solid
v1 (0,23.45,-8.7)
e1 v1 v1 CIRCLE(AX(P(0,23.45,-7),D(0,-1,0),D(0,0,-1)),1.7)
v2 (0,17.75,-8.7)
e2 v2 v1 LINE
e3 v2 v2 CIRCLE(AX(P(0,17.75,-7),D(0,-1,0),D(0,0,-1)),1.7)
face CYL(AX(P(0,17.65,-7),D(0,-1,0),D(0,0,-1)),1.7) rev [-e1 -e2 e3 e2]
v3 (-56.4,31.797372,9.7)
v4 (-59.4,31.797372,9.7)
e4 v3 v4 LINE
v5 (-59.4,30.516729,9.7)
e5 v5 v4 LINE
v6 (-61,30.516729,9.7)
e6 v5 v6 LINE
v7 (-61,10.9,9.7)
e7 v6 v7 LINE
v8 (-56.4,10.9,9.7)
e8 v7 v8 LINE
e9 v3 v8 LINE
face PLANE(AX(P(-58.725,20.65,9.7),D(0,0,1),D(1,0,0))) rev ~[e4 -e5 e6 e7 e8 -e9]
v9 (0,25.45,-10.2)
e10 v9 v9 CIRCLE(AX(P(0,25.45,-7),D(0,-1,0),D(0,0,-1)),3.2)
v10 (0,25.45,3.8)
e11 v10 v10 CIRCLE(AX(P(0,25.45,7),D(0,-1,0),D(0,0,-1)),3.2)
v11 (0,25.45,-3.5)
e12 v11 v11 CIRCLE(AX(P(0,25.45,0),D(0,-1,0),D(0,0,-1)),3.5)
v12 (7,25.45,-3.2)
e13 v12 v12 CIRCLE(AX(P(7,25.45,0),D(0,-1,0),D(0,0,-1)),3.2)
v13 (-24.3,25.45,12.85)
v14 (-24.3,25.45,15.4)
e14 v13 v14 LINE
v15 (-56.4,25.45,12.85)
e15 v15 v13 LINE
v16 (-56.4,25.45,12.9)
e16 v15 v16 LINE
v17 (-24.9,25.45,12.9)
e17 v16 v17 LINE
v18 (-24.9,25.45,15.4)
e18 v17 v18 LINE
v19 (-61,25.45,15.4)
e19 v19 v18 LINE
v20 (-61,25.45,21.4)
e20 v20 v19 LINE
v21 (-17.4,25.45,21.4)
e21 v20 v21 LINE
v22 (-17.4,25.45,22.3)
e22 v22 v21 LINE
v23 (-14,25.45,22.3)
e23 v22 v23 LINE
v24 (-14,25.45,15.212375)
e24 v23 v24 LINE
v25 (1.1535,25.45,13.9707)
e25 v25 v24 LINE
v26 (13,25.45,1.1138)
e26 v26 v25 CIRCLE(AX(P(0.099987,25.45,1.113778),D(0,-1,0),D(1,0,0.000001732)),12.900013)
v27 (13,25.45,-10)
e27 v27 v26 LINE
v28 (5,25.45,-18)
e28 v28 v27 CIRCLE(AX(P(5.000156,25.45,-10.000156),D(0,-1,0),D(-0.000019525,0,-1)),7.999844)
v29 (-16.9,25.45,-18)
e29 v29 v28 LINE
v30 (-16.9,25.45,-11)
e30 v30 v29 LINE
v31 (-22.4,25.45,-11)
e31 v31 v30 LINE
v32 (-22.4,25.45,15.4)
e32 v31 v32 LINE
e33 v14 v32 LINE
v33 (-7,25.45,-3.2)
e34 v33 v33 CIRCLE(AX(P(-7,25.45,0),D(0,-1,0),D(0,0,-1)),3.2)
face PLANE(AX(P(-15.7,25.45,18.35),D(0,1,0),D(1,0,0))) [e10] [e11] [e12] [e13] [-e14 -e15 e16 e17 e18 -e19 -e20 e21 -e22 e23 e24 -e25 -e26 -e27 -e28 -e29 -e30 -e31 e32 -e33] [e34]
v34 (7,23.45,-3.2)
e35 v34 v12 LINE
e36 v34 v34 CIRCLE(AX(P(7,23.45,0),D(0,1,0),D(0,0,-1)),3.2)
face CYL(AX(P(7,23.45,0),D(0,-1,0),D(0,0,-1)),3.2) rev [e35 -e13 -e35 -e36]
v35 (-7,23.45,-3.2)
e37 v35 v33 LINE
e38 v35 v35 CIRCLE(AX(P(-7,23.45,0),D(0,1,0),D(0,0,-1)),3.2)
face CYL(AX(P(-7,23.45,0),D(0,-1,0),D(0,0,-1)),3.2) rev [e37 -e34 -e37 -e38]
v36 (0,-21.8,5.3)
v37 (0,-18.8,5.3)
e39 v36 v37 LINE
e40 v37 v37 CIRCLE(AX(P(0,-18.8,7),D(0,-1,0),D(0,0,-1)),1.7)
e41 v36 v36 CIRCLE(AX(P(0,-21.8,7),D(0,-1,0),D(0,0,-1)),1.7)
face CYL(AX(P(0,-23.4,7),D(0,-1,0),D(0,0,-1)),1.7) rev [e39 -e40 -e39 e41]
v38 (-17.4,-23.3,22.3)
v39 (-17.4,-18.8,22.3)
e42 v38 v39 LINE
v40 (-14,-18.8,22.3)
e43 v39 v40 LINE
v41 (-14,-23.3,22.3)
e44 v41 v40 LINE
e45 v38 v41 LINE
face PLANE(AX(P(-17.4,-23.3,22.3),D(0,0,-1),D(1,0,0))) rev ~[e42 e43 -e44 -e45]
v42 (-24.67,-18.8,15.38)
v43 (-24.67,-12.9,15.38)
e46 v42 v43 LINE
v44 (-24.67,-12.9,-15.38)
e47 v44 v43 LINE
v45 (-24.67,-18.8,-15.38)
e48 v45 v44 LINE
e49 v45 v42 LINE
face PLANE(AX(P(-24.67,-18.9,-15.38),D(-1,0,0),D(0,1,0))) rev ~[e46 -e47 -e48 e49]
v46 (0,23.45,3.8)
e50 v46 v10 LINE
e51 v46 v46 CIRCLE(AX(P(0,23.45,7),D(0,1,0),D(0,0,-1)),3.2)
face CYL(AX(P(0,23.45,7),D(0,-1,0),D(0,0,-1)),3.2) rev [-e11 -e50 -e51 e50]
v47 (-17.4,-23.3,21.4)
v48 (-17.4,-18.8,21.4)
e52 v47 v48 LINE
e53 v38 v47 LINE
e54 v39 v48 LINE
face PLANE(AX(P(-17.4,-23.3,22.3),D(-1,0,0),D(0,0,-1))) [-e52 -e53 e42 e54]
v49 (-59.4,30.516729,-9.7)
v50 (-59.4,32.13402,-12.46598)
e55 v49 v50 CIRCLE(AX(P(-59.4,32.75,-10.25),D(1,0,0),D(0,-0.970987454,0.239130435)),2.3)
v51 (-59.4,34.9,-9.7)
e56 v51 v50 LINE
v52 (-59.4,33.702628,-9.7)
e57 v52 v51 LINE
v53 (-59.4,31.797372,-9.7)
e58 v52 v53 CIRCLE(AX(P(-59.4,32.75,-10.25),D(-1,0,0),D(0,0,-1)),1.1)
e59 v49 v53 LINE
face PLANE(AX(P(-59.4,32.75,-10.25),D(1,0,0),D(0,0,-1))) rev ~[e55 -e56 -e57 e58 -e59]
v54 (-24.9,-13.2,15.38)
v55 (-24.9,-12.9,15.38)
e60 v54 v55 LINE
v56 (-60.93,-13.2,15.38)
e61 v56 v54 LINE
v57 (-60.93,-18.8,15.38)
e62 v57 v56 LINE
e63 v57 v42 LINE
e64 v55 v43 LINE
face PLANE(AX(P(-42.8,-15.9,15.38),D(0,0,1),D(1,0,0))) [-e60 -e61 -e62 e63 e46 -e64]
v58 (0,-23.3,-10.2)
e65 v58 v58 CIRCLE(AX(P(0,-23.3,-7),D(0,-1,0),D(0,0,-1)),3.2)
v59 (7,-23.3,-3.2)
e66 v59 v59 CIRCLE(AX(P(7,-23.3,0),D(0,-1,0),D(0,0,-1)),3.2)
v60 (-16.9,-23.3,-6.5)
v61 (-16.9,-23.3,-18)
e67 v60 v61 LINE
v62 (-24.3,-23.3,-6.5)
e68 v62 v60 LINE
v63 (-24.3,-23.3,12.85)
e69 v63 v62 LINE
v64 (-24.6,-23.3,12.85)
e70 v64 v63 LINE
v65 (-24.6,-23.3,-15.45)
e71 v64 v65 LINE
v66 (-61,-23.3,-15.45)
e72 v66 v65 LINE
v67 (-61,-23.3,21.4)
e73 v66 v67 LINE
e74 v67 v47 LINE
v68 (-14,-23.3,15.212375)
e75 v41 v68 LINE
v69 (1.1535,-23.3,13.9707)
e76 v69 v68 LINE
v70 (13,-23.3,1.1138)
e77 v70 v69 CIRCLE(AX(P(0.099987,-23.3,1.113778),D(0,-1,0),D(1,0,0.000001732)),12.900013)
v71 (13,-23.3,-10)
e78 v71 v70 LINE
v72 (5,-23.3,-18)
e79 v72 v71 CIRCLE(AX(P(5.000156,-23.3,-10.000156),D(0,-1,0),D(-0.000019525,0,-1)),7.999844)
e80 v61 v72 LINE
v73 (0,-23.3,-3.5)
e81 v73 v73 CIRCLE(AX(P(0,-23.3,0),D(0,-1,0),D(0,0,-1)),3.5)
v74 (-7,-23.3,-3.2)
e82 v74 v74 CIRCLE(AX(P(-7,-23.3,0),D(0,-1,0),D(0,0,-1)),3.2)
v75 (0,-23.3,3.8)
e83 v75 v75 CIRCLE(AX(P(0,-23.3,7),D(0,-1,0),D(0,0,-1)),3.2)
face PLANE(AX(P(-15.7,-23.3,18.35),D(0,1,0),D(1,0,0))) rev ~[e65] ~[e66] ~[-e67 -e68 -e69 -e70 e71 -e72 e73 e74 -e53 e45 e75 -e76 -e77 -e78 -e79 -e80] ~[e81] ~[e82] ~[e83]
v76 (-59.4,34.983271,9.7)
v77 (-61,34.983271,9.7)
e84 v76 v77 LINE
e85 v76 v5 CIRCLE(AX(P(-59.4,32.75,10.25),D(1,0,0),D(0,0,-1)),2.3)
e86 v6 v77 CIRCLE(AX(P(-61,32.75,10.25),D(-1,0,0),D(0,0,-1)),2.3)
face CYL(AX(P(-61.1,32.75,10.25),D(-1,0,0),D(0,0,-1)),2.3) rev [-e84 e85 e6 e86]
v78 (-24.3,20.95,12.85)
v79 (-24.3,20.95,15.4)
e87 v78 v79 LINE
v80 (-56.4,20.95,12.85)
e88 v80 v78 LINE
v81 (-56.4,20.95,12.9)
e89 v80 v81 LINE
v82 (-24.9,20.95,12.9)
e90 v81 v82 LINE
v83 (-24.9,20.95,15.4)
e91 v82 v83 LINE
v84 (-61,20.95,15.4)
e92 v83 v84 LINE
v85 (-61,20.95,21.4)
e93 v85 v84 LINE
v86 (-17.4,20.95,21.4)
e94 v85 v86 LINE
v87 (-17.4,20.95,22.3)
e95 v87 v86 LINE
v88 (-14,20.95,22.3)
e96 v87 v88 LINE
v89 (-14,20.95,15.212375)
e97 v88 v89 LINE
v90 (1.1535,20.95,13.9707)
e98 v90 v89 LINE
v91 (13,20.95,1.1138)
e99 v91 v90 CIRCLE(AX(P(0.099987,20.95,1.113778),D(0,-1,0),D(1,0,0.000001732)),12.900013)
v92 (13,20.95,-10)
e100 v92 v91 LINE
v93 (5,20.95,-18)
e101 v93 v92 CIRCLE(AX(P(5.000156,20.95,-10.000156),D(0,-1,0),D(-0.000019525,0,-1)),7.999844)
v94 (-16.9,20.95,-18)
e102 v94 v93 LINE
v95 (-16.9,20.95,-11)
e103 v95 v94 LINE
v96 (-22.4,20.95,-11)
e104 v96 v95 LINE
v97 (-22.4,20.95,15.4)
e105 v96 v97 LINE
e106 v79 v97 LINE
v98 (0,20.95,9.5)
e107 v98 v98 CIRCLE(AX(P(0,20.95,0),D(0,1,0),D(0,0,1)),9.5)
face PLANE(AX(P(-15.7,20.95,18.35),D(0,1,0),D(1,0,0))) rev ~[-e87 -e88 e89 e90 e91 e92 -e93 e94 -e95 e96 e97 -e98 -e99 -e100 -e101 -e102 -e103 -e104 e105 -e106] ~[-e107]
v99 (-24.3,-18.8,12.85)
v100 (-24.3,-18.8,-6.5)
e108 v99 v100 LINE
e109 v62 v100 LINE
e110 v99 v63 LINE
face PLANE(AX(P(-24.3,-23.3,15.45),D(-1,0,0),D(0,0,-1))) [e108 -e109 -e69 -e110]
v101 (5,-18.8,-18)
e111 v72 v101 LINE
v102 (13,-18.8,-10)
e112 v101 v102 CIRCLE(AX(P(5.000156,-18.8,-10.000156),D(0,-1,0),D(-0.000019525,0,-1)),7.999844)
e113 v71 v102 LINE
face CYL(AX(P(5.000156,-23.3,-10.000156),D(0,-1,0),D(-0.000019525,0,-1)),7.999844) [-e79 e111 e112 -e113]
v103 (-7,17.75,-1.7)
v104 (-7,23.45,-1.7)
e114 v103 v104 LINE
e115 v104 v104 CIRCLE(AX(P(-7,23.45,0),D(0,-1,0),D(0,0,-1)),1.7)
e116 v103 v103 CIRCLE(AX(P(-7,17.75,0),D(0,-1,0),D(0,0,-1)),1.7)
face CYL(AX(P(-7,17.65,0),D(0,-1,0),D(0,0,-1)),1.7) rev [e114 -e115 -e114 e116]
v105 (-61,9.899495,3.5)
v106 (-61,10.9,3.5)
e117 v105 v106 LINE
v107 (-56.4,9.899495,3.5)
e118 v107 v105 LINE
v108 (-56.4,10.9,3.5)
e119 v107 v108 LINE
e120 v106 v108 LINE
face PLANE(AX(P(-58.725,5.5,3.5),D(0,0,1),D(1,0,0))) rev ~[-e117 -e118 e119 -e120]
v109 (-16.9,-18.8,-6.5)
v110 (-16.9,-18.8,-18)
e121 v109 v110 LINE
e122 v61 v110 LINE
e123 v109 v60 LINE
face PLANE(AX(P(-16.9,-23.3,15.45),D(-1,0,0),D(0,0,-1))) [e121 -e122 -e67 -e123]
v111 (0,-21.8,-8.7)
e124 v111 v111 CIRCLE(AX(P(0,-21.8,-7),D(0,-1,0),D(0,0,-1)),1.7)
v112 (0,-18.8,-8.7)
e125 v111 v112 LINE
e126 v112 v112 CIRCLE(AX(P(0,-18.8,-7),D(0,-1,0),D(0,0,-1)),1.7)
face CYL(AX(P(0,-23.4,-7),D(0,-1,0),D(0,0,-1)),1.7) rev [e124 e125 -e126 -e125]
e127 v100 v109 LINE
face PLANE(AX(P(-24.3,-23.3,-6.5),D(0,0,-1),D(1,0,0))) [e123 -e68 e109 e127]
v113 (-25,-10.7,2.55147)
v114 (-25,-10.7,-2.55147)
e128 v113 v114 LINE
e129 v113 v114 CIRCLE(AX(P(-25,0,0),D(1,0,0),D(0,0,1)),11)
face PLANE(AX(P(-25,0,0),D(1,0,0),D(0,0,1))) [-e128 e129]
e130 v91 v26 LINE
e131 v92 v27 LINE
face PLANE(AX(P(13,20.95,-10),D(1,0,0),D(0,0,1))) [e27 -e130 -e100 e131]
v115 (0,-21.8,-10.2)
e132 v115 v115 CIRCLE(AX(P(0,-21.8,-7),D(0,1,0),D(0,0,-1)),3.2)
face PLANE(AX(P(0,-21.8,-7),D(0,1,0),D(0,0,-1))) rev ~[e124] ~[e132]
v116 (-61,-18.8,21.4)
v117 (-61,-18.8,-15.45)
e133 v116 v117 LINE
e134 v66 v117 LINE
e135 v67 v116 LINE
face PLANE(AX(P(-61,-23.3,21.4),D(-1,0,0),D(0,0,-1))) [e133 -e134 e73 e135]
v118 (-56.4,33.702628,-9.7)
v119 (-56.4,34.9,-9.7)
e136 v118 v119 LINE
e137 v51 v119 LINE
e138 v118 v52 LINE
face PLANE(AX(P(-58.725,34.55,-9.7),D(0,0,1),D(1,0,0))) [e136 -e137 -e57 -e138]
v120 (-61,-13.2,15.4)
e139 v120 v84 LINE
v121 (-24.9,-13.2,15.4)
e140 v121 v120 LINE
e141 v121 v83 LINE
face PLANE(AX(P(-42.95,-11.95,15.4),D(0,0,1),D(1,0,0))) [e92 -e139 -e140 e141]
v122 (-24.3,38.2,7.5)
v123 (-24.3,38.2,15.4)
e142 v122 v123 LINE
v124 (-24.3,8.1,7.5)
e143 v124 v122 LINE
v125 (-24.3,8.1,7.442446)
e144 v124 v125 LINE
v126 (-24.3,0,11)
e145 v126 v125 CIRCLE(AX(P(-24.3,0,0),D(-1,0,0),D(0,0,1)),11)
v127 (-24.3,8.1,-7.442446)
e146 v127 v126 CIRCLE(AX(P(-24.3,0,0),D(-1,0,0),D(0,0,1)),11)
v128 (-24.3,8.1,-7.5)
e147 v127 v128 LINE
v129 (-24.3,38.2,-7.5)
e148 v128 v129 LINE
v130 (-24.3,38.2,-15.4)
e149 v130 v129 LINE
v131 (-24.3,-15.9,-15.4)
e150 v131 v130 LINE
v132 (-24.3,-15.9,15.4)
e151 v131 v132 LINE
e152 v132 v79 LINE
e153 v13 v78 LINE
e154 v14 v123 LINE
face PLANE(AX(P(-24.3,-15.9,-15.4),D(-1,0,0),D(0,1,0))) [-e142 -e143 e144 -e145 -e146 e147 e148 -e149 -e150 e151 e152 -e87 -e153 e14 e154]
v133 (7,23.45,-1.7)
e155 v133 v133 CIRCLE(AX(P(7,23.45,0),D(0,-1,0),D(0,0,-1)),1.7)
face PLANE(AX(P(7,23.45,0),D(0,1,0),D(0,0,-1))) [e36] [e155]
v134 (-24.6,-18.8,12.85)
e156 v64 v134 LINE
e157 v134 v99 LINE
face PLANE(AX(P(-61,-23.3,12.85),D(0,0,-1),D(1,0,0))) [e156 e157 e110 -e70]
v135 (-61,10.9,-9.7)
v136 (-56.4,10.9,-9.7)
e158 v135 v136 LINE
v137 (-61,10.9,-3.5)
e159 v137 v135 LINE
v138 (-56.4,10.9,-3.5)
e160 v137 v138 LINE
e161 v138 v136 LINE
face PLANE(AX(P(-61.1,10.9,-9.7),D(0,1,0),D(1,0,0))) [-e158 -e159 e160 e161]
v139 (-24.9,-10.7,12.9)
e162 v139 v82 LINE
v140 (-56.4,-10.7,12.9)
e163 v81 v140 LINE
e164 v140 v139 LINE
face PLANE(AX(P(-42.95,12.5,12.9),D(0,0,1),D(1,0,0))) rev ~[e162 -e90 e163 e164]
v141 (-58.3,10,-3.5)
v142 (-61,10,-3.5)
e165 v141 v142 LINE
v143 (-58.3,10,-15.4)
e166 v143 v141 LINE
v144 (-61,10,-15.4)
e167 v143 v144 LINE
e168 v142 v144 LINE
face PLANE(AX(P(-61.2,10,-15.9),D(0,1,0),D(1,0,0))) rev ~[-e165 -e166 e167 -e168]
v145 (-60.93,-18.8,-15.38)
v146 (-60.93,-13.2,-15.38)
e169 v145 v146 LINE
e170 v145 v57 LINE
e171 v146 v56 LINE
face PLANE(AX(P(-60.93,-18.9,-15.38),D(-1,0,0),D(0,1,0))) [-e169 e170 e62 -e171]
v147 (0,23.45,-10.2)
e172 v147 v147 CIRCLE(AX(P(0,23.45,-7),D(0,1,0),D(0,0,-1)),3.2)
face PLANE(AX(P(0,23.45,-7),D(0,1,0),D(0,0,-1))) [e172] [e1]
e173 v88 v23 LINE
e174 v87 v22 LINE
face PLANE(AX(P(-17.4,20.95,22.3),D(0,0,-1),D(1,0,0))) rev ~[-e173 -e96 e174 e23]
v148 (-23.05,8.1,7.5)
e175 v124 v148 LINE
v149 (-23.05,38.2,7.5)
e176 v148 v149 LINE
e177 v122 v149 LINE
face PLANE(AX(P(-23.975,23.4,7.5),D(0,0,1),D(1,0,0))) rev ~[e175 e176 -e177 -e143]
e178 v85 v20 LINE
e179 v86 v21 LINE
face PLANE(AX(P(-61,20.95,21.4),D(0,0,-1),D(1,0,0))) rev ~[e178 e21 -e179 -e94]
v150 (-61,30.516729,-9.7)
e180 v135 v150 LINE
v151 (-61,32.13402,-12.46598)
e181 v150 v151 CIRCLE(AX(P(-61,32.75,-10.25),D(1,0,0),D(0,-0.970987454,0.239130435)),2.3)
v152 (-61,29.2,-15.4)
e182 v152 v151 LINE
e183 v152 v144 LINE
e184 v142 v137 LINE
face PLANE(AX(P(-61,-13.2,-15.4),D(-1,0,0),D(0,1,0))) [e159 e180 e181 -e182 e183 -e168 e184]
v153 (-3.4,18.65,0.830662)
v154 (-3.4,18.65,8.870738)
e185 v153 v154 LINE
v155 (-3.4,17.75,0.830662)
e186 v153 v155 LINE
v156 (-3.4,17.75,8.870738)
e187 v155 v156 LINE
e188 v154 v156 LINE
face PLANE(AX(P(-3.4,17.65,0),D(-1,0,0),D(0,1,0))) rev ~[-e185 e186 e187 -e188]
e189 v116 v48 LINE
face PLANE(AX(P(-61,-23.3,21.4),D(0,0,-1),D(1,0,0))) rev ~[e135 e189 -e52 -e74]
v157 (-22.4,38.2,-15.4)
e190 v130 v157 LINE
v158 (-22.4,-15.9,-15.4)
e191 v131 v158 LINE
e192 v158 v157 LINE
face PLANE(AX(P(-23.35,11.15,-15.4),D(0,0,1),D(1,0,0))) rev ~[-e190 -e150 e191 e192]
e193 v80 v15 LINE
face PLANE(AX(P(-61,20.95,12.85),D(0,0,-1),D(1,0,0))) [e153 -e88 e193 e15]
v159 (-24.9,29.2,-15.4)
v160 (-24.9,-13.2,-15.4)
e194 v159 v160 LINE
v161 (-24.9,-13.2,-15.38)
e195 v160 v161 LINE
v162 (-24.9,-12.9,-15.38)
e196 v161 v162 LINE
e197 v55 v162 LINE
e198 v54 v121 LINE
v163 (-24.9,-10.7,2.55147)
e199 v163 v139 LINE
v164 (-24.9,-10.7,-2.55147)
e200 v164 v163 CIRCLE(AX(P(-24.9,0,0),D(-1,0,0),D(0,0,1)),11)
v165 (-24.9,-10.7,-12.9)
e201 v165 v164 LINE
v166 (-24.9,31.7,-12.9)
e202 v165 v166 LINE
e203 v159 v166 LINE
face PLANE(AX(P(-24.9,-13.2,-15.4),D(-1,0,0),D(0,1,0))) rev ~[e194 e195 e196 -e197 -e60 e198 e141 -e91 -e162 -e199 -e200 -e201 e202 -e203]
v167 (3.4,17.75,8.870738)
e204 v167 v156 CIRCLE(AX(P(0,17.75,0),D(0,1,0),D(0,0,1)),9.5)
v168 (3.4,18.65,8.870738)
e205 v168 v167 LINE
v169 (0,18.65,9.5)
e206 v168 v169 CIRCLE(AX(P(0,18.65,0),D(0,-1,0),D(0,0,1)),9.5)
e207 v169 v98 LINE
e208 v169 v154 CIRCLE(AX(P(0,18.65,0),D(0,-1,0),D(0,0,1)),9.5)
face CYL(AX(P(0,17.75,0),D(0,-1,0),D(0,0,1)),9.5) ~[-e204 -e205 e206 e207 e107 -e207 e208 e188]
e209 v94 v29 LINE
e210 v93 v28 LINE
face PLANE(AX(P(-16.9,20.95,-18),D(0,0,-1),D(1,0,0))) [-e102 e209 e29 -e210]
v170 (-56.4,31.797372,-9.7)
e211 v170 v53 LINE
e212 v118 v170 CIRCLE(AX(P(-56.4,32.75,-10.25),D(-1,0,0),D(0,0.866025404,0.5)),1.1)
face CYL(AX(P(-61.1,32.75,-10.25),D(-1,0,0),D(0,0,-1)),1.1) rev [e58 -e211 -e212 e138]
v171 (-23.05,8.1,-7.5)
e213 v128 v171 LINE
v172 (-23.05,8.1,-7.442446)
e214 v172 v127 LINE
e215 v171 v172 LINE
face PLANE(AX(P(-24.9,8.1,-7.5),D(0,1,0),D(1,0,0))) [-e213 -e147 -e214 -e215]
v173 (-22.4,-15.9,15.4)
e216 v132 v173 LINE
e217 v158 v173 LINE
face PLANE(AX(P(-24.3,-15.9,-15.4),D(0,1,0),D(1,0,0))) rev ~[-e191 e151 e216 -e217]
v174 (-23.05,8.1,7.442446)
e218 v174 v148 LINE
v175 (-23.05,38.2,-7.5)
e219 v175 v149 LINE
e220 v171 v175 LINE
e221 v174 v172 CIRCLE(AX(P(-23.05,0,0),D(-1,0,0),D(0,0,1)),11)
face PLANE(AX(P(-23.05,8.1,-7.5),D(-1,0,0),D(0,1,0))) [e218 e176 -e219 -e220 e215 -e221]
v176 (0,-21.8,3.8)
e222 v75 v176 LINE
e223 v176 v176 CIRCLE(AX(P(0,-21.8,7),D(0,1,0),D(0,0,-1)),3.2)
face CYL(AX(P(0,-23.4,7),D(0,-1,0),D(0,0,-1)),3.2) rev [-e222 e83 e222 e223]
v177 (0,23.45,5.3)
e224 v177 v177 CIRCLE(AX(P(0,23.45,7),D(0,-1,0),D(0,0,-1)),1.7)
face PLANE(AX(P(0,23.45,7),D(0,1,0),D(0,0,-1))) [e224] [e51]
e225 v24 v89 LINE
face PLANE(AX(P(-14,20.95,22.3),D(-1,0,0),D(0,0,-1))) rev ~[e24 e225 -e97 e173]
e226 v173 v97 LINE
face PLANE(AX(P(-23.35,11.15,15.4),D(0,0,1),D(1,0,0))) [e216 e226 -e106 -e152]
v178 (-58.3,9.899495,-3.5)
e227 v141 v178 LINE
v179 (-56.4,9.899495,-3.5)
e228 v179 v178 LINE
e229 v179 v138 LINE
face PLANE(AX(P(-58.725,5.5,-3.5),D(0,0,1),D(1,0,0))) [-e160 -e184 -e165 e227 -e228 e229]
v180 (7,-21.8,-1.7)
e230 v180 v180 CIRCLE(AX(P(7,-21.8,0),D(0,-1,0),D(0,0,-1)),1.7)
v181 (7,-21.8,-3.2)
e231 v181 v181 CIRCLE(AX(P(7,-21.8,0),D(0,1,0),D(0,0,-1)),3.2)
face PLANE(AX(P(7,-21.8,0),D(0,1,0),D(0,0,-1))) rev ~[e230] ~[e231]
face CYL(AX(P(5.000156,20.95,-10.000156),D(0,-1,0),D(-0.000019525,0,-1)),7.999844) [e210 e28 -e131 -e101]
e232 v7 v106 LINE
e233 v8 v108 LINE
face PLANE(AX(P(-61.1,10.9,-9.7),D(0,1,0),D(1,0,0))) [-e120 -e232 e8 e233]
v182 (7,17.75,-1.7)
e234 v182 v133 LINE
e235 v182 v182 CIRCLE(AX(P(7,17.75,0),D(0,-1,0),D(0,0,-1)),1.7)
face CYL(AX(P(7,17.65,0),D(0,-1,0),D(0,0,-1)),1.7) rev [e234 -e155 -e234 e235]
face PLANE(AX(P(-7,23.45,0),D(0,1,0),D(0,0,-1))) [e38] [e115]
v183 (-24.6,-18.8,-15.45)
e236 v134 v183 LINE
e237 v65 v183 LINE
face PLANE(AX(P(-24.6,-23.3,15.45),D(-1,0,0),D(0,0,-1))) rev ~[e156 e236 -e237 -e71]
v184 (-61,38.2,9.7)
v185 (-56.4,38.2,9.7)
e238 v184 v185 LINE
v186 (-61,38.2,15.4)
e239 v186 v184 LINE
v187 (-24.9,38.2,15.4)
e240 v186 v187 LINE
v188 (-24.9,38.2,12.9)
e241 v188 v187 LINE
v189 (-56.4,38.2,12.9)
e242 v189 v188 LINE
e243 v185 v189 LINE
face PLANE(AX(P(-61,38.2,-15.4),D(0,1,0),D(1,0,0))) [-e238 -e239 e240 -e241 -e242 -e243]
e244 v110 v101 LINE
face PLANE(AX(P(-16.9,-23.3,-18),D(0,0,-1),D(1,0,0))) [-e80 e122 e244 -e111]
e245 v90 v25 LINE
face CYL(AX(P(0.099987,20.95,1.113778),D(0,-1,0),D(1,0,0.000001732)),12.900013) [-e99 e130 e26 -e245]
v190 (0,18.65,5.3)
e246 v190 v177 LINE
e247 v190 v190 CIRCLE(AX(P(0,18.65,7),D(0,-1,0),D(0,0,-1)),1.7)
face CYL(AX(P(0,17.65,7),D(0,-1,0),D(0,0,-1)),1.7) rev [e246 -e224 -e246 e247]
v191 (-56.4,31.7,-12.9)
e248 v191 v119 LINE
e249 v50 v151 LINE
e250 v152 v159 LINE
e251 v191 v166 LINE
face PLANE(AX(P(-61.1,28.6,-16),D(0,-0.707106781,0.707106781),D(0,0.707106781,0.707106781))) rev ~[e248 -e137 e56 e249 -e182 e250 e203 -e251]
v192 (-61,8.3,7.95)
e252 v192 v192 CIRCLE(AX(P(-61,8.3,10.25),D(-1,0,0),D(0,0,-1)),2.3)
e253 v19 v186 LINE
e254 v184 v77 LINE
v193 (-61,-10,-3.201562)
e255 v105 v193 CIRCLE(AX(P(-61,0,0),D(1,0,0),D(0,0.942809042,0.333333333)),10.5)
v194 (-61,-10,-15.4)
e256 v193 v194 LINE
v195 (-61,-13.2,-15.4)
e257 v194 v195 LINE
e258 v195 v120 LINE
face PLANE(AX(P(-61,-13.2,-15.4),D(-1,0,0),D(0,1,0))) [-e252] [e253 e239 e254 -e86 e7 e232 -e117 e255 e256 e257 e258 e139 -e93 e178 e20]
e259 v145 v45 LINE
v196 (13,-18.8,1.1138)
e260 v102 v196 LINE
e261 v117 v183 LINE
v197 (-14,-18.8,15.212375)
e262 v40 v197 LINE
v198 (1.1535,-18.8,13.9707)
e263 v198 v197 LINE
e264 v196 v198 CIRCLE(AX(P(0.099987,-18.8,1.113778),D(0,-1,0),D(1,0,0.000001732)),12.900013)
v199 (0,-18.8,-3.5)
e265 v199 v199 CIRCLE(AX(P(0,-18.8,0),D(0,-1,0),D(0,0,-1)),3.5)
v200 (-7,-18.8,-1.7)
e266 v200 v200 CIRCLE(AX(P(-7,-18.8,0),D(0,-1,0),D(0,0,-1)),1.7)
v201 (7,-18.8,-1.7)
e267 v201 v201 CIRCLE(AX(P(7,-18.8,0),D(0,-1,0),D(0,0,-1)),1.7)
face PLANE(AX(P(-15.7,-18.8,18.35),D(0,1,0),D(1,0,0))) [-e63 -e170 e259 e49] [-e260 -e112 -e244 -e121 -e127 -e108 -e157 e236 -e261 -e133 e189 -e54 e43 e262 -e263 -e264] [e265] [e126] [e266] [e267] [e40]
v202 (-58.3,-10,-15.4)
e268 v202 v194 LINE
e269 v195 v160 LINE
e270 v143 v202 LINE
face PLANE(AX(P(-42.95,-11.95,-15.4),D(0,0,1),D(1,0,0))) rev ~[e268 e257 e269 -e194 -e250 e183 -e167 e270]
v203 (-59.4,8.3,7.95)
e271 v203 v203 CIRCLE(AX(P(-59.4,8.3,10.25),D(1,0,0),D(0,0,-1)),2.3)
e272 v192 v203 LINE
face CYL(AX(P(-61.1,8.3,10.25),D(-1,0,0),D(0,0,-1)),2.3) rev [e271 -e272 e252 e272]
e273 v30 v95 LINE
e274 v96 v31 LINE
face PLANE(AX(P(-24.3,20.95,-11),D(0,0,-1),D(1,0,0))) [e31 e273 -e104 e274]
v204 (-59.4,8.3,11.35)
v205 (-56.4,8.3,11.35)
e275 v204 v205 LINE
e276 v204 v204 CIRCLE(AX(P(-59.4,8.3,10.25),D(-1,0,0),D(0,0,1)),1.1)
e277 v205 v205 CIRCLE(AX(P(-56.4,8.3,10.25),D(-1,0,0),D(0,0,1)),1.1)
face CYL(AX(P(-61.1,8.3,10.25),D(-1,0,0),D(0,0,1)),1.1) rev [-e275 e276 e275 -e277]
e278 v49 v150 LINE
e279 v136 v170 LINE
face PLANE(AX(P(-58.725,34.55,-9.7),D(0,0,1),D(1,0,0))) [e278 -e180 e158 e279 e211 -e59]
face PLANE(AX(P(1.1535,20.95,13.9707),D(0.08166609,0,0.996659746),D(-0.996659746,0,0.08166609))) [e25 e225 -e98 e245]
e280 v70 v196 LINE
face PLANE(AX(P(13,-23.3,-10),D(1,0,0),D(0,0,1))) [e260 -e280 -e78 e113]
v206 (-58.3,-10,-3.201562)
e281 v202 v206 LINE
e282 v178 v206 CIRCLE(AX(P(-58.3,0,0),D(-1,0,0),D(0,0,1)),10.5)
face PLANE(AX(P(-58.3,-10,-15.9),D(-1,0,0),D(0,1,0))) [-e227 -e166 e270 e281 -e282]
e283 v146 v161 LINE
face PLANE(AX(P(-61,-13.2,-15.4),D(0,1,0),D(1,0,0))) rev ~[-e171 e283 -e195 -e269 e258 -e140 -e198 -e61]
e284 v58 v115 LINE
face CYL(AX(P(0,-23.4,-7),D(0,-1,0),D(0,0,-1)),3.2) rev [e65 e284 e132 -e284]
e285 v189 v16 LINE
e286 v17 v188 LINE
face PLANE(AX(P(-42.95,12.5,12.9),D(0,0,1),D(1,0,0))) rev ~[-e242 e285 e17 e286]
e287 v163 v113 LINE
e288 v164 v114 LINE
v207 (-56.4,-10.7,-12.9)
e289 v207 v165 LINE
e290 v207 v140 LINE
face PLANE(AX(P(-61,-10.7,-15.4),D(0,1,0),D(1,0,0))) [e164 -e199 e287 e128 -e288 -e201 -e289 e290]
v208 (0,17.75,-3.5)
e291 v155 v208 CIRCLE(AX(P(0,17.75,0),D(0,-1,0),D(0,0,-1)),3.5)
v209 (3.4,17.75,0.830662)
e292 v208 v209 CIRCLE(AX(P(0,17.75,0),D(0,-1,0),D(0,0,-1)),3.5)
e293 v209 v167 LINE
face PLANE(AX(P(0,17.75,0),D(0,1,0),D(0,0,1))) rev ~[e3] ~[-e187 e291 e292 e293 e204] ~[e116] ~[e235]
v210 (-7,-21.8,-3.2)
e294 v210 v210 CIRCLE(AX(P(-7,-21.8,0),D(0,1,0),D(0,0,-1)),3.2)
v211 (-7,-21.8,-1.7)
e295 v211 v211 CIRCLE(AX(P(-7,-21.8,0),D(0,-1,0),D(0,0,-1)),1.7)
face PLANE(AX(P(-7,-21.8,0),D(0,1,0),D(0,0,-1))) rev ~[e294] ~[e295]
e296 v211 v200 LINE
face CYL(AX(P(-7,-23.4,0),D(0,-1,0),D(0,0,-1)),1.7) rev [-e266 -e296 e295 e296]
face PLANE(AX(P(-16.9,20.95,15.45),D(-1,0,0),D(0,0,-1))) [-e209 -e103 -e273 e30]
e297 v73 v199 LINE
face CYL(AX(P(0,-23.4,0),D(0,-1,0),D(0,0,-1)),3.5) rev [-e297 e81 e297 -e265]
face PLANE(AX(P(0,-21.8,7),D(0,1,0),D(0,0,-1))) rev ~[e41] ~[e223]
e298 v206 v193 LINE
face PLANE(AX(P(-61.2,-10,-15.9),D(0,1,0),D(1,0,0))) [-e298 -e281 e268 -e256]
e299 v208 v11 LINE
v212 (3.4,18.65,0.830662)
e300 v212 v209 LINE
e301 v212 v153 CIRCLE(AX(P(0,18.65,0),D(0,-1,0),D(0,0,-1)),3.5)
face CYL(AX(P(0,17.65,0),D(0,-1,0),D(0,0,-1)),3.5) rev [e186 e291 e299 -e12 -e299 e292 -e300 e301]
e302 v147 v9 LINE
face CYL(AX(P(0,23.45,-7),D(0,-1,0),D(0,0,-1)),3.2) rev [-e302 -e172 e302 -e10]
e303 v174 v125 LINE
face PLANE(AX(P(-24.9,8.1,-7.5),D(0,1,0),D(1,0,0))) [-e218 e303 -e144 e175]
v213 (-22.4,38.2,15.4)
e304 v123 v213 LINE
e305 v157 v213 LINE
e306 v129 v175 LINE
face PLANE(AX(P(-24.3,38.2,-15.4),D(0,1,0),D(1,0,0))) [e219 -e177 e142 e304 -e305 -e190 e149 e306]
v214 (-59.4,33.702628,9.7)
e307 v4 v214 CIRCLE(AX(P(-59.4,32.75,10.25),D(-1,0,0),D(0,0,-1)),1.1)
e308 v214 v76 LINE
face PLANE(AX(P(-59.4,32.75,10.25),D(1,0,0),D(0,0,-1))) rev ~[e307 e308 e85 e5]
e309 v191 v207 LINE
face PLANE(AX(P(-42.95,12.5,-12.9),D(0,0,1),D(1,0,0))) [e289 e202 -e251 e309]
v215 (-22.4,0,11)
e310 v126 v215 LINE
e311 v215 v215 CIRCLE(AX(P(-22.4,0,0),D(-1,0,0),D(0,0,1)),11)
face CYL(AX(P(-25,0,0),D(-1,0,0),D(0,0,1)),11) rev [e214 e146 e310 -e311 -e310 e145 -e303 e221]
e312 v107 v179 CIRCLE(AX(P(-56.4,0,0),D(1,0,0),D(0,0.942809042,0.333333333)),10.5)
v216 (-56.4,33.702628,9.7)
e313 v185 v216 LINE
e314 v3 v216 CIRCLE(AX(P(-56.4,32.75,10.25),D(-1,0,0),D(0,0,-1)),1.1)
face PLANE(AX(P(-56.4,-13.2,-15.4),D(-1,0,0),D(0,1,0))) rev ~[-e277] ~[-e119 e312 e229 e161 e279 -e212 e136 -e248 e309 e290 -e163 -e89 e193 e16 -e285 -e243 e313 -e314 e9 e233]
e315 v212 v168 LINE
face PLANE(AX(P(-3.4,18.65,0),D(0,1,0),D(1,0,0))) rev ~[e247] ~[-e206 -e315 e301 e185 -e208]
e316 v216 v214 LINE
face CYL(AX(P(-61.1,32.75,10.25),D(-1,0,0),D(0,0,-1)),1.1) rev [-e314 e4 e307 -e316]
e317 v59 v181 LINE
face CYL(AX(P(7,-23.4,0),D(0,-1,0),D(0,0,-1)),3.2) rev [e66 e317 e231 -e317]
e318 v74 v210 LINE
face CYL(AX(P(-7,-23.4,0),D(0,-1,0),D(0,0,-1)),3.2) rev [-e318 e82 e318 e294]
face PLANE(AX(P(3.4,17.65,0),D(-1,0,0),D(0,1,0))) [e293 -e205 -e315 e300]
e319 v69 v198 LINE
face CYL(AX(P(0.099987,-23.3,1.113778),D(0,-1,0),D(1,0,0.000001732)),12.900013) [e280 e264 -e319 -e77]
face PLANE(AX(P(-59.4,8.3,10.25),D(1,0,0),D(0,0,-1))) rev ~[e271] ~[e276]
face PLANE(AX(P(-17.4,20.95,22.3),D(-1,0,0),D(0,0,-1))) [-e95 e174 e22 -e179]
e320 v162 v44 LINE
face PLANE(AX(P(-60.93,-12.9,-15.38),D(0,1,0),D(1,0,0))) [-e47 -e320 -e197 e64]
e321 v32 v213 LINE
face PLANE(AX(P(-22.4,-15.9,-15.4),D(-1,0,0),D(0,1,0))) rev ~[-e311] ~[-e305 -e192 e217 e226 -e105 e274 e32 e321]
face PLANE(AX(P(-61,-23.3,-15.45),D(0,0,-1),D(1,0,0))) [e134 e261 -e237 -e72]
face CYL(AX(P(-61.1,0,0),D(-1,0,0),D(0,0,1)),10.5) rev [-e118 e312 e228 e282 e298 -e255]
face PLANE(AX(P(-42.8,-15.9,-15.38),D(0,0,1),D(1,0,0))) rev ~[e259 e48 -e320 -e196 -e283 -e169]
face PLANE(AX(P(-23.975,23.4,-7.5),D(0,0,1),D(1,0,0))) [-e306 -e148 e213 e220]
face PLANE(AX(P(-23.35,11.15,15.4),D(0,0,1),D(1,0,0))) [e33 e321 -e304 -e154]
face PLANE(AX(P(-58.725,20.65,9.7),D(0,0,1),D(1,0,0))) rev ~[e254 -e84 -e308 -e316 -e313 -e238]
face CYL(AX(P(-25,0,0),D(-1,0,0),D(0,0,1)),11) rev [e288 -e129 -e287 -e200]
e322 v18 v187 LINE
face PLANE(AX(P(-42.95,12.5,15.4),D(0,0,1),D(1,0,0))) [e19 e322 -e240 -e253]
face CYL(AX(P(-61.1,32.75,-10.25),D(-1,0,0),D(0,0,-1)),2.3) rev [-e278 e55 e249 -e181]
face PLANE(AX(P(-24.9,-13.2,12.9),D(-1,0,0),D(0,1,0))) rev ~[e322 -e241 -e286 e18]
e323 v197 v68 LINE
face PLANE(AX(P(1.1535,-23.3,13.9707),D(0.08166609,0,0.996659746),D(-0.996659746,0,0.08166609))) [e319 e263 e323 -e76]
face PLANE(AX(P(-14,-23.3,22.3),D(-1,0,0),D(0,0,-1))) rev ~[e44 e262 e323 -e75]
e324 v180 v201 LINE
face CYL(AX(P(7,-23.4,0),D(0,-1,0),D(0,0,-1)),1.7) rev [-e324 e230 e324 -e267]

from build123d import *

# Parameters (mm, degrees)
BOSS_1_DEPTH    = 4.5
S_CYL2_R        = 9.5
BOSS_2_DEPTH    = 3.2
BOSS_3_DEPTH    = 4.5
S_PRISM4_W      = 7.5
S_PRISM4_H      = 21.95
BOSS_4_DEPTH    = 4.5
S_PRISM5_W      = 44.2
S_PRISM5_H      = 8.55
BOSS_5_DEPTH    = 4.5
S_PRISM6_W      = 36.4
S_PRISM6_H      = 30.9
BOSS_6_DEPTH    = 4.5
S_PRISM7_W      = 3.4
S_PRISM7_H      = 7.9
BOSS_7_DEPTH    = 4.5
S_PRISM8_W      = 7.5
S_PRISM8_H      = 26.45
BOSS_8_DEPTH    = 4.5
S_PRISM9_W      = 44.2
S_PRISM9_H      = 8.55
BOSS_9_DEPTH    = 4.5
S_PRISM10_W     = 3.4
S_PRISM10_H     = 7.9
BOSS_10_DEPTH   = 4.5
S_BOX11_W       = 36.1
S_BOX11_H       = 2.5
BOSS_11_DEPTH   = 30.8
S_BOX12_W       = 36.1
S_BOX12_H       = 51.4
BOSS_12_DEPTH   = 2.5
S_BOX13_W       = 36.1
S_BOX13_H       = 51.4
BOSS_13_DEPTH   = 2.5
S_BOX14_W       = 4.6
S_BOX14_H       = 51.4
BOSS_14_DEPTH   = 30.8
S_BOX15_W       = 1.9
S_BOX15_H       = 54.1
BOSS_15_DEPTH   = 30.8
S_BOX16_W       = 36.26
S_BOX16_H       = 6
BOSS_16_DEPTH   = 30.76
S_HOLE17_R      = 3.5
HOLE_17_DEPTH   = 4.7
S_HOLE18_R      = 1.7
HOLE_18_DEPTH   = 4.7
S_HOLE19_R      = 1.7
HOLE_19_DEPTH   = 4.7
S_HOLE20_R      = 1.7
HOLE_20_DEPTH   = 4.7
S_HOLE21_R      = 1.7
HOLE_21_DEPTH   = 4.7
S_HOLE22_R      = 3.2
HOLE_22_DEPTH   = 1.6
S_HOLE23_R      = 3.2
HOLE_23_DEPTH   = 1.6
S_HOLE24_R      = 3.2
HOLE_24_DEPTH   = 1.6
S_HOLE25_R      = 3.2
HOLE_25_DEPTH   = 1.6
S_HOLE26_R      = 3.5
HOLE_26_DEPTH   = 7.9
S_HOLE27_R      = 1.7
HOLE_27_DEPTH   = 7.9
S_HOLE28_R      = 1.7
HOLE_28_DEPTH   = 7.9
S_HOLE29_R      = 1.7
HOLE_29_DEPTH   = 7.9
S_HOLE30_R      = 1.7
HOLE_30_DEPTH   = 7.9
S_HOLE31_R      = 3.2
HOLE_31_DEPTH   = 2.1
S_HOLE32_R      = 3.2
HOLE_32_DEPTH   = 2.1
S_HOLE33_R      = 3.2
HOLE_33_DEPTH   = 2.1
S_HOLE34_R      = 3.2
HOLE_34_DEPTH   = 2.1
S_CUT35_W       = 6.8
S_CUT35_H       = 1
POCKET_35_DEPTH = 10
S_HOLE36_R      = 10.5
HOLE_36_DEPTH   = 4.8
S_CUT37_W       = 4.75
S_CUT37_H       = 19.5
POCKET_37_DEPTH = 19.4
S_CUT38_W       = 4.75
S_CUT38_H       = 8.3
POCKET_38_DEPTH = 19.4
S_CUT39_W       = 4.75
S_CUT39_H       = 11
POCKET_39_DEPTH = 7
S_CUT40_W       = 2.9
S_CUT40_H       = 20
POCKET_40_DEPTH = 15.9
S_HOLE41_R      = 1.1
HOLE_41_DEPTH   = 4.8
S_HOLE42_R      = 2.3
HOLE_42_DEPTH   = 1.7
S_HOLE43_R      = 1.1
HOLE_43_DEPTH   = 4.8
S_HOLE44_R      = 2.3
HOLE_44_DEPTH   = 1.7
S_HOLE45_R      = 1.1
HOLE_45_DEPTH   = 4.8
S_HOLE46_R      = 2.3
HOLE_46_DEPTH   = 1.7
S_HOLE47_R      = 11
HOLE_47_DEPTH   = 2.7
S_CUT48_W       = 1.85
S_CUT48_H       = 30.6
POCKET_48_DEPTH = 15
CUT_49_DEPTH    = 36.3


with BuildPart() as part:
    # S_prism1 → Boss_1 (new body)
    with BuildSketch(Plane(origin=(0, -23.3, 0), x_dir=(1, 0, 0), z_dir=(0, 1, 0))):
        with BuildLine():
            Line((13, 10), (13, -1.1138))
            ThreePointArc((13, -1.1138), (9.586829994, -9.855067448), (1.1535, -13.9707))
            Line((1.1535, -13.9707), (-16.9, -15.45))
            Line((-16.9, -15.45), (-16.9, 18))
            Line((-16.9, 18), (5, 18))
            ThreePointArc((5, 18), (10.6569, 15.6569), (13, 10))
        make_face()
    extrude(amount=BOSS_1_DEPTH)

    # S_prism4 → Boss_4 (add)
    with BuildSketch(Plane(origin=(0, -23.3, 0), x_dir=(1, 0, 0), z_dir=(0, 1, 0))):
        with Locations((-20.55, -4.475)):
            Rectangle(S_PRISM4_W, S_PRISM4_H)
    extrude(amount=BOSS_4_DEPTH)

    # S_prism5 → Boss_5 (add)
    with BuildSketch(Plane(origin=(0, -23.3, 0), x_dir=(1, 0, 0), z_dir=(0, 1, 0))):
        with Locations((-38.9, -17.125)):
            Rectangle(S_PRISM5_W, S_PRISM5_H)
    extrude(amount=BOSS_5_DEPTH)

    # S_prism6 → Boss_6 (add)
    with BuildSketch(Plane(origin=(0, -23.3, 0), x_dir=(1, 0, 0), z_dir=(0, 1, 0))):
        with Locations((-42.8, 0)):
            Rectangle(S_PRISM6_W, S_PRISM6_H)
    extrude(amount=BOSS_6_DEPTH)

    # S_prism7 → Boss_7 (add)
    with BuildSketch(Plane(origin=(0, -23.3, 0), x_dir=(1, 0, 0), z_dir=(0, 1, 0))):
        with Locations((-15.7, -18.35)):
            Rectangle(S_PRISM7_W, S_PRISM7_H)
    extrude(amount=BOSS_7_DEPTH)



with BuildPart() as body_2:
    # S_cyl2 → Boss_2 (new body)
    with BuildSketch(Plane(origin=(0, 17.75, 0), x_dir=(1, 0, 0), z_dir=(0, 1, 0))):
        with Locations(Location((0, 0, 0), (0, 0, 270))):
            Circle(S_CYL2_R)
    extrude(amount=BOSS_2_DEPTH)

    # S_prism3 → Boss_3 (add)
    with BuildSketch(Plane(origin=(0, 20.95, 0), x_dir=(1, 0, 0), z_dir=(0, 1, 0))):
        with BuildLine():
            Line((13, 10), (13, -1.1138))
            ThreePointArc((13, -1.1138), (9.586829994, -9.855067448), (1.1535, -13.9707))
            Line((1.1535, -13.9707), (-16.9, -15.45))
            Line((-16.9, -15.45), (-16.9, 18))
            Line((-16.9, 18), (5, 18))
            ThreePointArc((5, 18), (10.6569, 15.6569), (13, 10))
        make_face()
    extrude(amount=BOSS_3_DEPTH)

    # S_prism8 → Boss_8 (add)
    with BuildSketch(Plane(origin=(0, 20.95, 0), x_dir=(1, 0, 0), z_dir=(0, 1, 0))):
        with Locations((-20.55, -2.225)):
            Rectangle(S_PRISM8_W, S_PRISM8_H)
    extrude(amount=BOSS_8_DEPTH)

    # S_prism9 → Boss_9 (add)
    with BuildSketch(Plane(origin=(0, 20.95, 0), x_dir=(1, 0, 0), z_dir=(0, 1, 0))):
        with Locations((-38.9, -17.125)):
            Rectangle(S_PRISM9_W, S_PRISM9_H)
    extrude(amount=BOSS_9_DEPTH)

    # S_prism10 → Boss_10 (add)
    with BuildSketch(Plane(origin=(0, 20.95, 0), x_dir=(1, 0, 0), z_dir=(0, 1, 0))):
        with Locations((-15.7, -18.35)):
            Rectangle(S_PRISM10_W, S_PRISM10_H)
    extrude(amount=BOSS_10_DEPTH)



with BuildPart() as body_3:
    # S_box11 → Boss_11 (new body)
    with BuildSketch(Plane.XY.offset(-15.4)):
        with Locations((-42.95, -11.95)):
            Rectangle(S_BOX11_W, S_BOX11_H)
    extrude(amount=BOSS_11_DEPTH)

    # S_box12 → Boss_12 (add)
    with BuildSketch(Plane.XY.offset(-15.4)):
        with Locations((-42.95, 12.5)):
            Rectangle(S_BOX12_W, S_BOX12_H)
    extrude(amount=BOSS_12_DEPTH)


with BuildPart() as body_2_1:
    add(body_2.part)

    add(body_3.part)  # Boss_13 merges body 3
    # S_box13 → Boss_13 (add)
    with BuildSketch(Plane.XY.offset(12.9)):
        with Locations((-42.95, 12.5)):
            Rectangle(S_BOX13_W, S_BOX13_H)
    extrude(amount=BOSS_13_DEPTH)

    # S_box14 → Boss_14 (add)
    with BuildSketch(Plane.XY.offset(-15.4)):
        with Locations((-58.7, 12.5)):
            Rectangle(S_BOX14_W, S_BOX14_H)
    extrude(amount=BOSS_14_DEPTH)

    # S_box15 → Boss_15 (add)
    with BuildSketch(Plane.XY.offset(-15.4)):
        with Locations((-23.35, 11.15)):
            Rectangle(S_BOX15_W, S_BOX15_H)
    extrude(amount=BOSS_15_DEPTH)


with BuildPart() as part_1:
    add(part.part)

    add(body_2_1.part)  # Boss_16 merges body 2
    # S_box16 → Boss_16 (add)
    with BuildSketch(Plane.XY.offset(-15.38)):
        with Locations((-42.8, -15.9)):
            Rectangle(S_BOX16_W, S_BOX16_H)
    extrude(amount=BOSS_16_DEPTH)

    # S_hole17 → Hole_17 (cut)
    with BuildSketch(Plane(origin=(0, -23.4, 0), x_dir=(1, 0, 0), z_dir=(0, 1, 0))):
        with Locations(Location((0, 0, 0), (0, 0, 90))):
            Circle(S_HOLE17_R)
    extrude(amount=HOLE_17_DEPTH, mode=Mode.SUBTRACT)

    # S_hole18 → Hole_18 (cut)
    with BuildSketch(Plane(origin=(0, -23.4, 0), x_dir=(1, 0, 0), z_dir=(0, 1, 0))):
        with Locations(Location((7, 0, 0), (0, 0, 90))):
            Circle(S_HOLE18_R)
    extrude(amount=HOLE_18_DEPTH, mode=Mode.SUBTRACT)

    # S_hole19 → Hole_19 (cut)
    with BuildSketch(Plane(origin=(0, -23.4, 0), x_dir=(1, 0, 0), z_dir=(0, 1, 0))):
        with Locations(Location((0, -7, 0), (0, 0, 90))):
            Circle(S_HOLE19_R)
    extrude(amount=HOLE_19_DEPTH, mode=Mode.SUBTRACT)

    # S_hole20 → Hole_20 (cut)
    with BuildSketch(Plane(origin=(0, -23.4, 0), x_dir=(1, 0, 0), z_dir=(0, 1, 0))):
        with Locations(Location((-7, 0, 0), (0, 0, 90))):
            Circle(S_HOLE20_R)
    extrude(amount=HOLE_20_DEPTH, mode=Mode.SUBTRACT)

    # S_hole21 → Hole_21 (cut)
    with BuildSketch(Plane(origin=(0, -23.4, 0), x_dir=(1, 0, 0), z_dir=(0, 1, 0))):
        with Locations(Location((0, 7, 0), (0, 0, 90))):
            Circle(S_HOLE21_R)
    extrude(amount=HOLE_21_DEPTH, mode=Mode.SUBTRACT)

    # S_hole22 → Hole_22 (cut)
    with BuildSketch(Plane(origin=(0, -23.4, 0), x_dir=(1, 0, 0), z_dir=(0, 1, 0))):
        with Locations(Location((7, 0, 0), (0, 0, 90))):
            Circle(S_HOLE22_R)
    extrude(amount=HOLE_22_DEPTH, mode=Mode.SUBTRACT)

    # S_hole23 → Hole_23 (cut)
    with BuildSketch(Plane(origin=(0, -23.4, 0), x_dir=(1, 0, 0), z_dir=(0, 1, 0))):
        with Locations(Location((0, -7, 0), (0, 0, 90))):
            Circle(S_HOLE23_R)
    extrude(amount=HOLE_23_DEPTH, mode=Mode.SUBTRACT)

    # S_hole24 → Hole_24 (cut)
    with BuildSketch(Plane(origin=(0, -23.4, 0), x_dir=(1, 0, 0), z_dir=(0, 1, 0))):
        with Locations(Location((-7, 0, 0), (0, 0, 90))):
            Circle(S_HOLE24_R)
    extrude(amount=HOLE_24_DEPTH, mode=Mode.SUBTRACT)

    # S_hole25 → Hole_25 (cut)
    with BuildSketch(Plane(origin=(0, -23.4, 0), x_dir=(1, 0, 0), z_dir=(0, 1, 0))):
        with Locations(Location((0, 7, 0), (0, 0, 90))):
            Circle(S_HOLE25_R)
    extrude(amount=HOLE_25_DEPTH, mode=Mode.SUBTRACT)

    # S_hole26 → Hole_26 (cut)
    with BuildSketch(Plane(origin=(0, 17.65, 0), x_dir=(1, 0, 0), z_dir=(0, 1, 0))):
        with Locations(Location((0, 0, 0), (0, 0, 90))):
            Circle(S_HOLE26_R)
    extrude(amount=HOLE_26_DEPTH, mode=Mode.SUBTRACT)

    # S_hole27 → Hole_27 (cut)
    with BuildSketch(Plane(origin=(0, 17.65, 0), x_dir=(1, 0, 0), z_dir=(0, 1, 0))):
        with Locations(Location((7, 0, 0), (0, 0, 90))):
            Circle(S_HOLE27_R)
    extrude(amount=HOLE_27_DEPTH, mode=Mode.SUBTRACT)

    # S_hole28 → Hole_28 (cut)
    with BuildSketch(Plane(origin=(0, 17.65, 0), x_dir=(1, 0, 0), z_dir=(0, 1, 0))):
        with Locations(Location((0, -7, 0), (0, 0, 90))):
            Circle(S_HOLE28_R)
    extrude(amount=HOLE_28_DEPTH, mode=Mode.SUBTRACT)

    # S_hole29 → Hole_29 (cut)
    with BuildSketch(Plane(origin=(0, 17.65, 0), x_dir=(1, 0, 0), z_dir=(0, 1, 0))):
        with Locations(Location((-7, 0, 0), (0, 0, 90))):
            Circle(S_HOLE29_R)
    extrude(amount=HOLE_29_DEPTH, mode=Mode.SUBTRACT)

    # S_hole30 → Hole_30 (cut)
    with BuildSketch(Plane(origin=(0, 17.65, 0), x_dir=(1, 0, 0), z_dir=(0, 1, 0))):
        with Locations(Location((0, 7, 0), (0, 0, 90))):
            Circle(S_HOLE30_R)
    extrude(amount=HOLE_30_DEPTH, mode=Mode.SUBTRACT)

    # S_hole31 → Hole_31 (cut)
    with BuildSketch(Plane(origin=(0, 23.45, 0), x_dir=(1, 0, 0), z_dir=(0, 1, 0))):
        with Locations(Location((7, 0, 0), (0, 0, 90))):
            Circle(S_HOLE31_R)
    extrude(amount=HOLE_31_DEPTH, mode=Mode.SUBTRACT)

    # S_hole32 → Hole_32 (cut)
    with BuildSketch(Plane(origin=(0, 23.45, 0), x_dir=(1, 0, 0), z_dir=(0, 1, 0))):
        with Locations(Location((0, -7, 0), (0, 0, 90))):
            Circle(S_HOLE32_R)
    extrude(amount=HOLE_32_DEPTH, mode=Mode.SUBTRACT)

    # S_hole33 → Hole_33 (cut)
    with BuildSketch(Plane(origin=(0, 23.45, 0), x_dir=(1, 0, 0), z_dir=(0, 1, 0))):
        with Locations(Location((-7, 0, 0), (0, 0, 90))):
            Circle(S_HOLE33_R)
    extrude(amount=HOLE_33_DEPTH, mode=Mode.SUBTRACT)

    # S_hole34 → Hole_34 (cut)
    with BuildSketch(Plane(origin=(0, 23.45, 0), x_dir=(1, 0, 0), z_dir=(0, 1, 0))):
        with Locations(Location((0, 7, 0), (0, 0, 90))):
            Circle(S_HOLE34_R)
    extrude(amount=HOLE_34_DEPTH, mode=Mode.SUBTRACT)

    # S_cut35 → Pocket_35 (cut)
    with BuildSketch(Plane.XY):
        with Locations((0, 18.15)):
            Rectangle(S_CUT35_W, S_CUT35_H)
    extrude(amount=POCKET_35_DEPTH, mode=Mode.SUBTRACT)

    # S_hole36 → Hole_36 (cut)
    with BuildSketch(Plane(origin=(-61.1, 0, 0), x_dir=(0, 0, -1), z_dir=(1, 0, 0))):
        with Locations(Location((0, 0, 0), (0, 0, 180))):
            Circle(S_HOLE36_R)
    extrude(amount=HOLE_36_DEPTH, mode=Mode.SUBTRACT)

    # S_cut37 → Pocket_37 (cut)
    with BuildSketch(Plane.XY.offset(-9.7)):
        with Locations((-58.725, 20.65)):
            Rectangle(S_CUT37_W, S_CUT37_H)
    extrude(amount=POCKET_37_DEPTH, mode=Mode.SUBTRACT)

    # S_cut38 → Pocket_38 (cut)
    with BuildSketch(Plane.XY.offset(-9.7)):
        with Locations((-58.725, 34.55)):
            Rectangle(S_CUT38_W, S_CUT38_H)
    extrude(amount=POCKET_38_DEPTH, mode=Mode.SUBTRACT)

    # S_cut39 → Pocket_39 (cut)
    with BuildSketch(Plane.XY.offset(-3.5)):
        with Locations((-58.725, 5.5)):
            Rectangle(S_CUT39_W, S_CUT39_H)
    extrude(amount=POCKET_39_DEPTH, mode=Mode.SUBTRACT)

    # S_cut40 → Pocket_40 (cut)
    with BuildSketch(Plane.XY.offset(-15.9)):
        with Locations((-59.75, 0)):
            Rectangle(S_CUT40_W, S_CUT40_H)
    extrude(amount=POCKET_40_DEPTH, mode=Mode.SUBTRACT)

    # S_hole41 → Hole_41 (cut)
    with BuildSketch(Plane(origin=(-61.1, 0, 0), x_dir=(0, 0, -1), z_dir=(1, 0, 0))):
        with Locations(Location((-10.25, 8.3, 0), (0, 0, 180))):
            Circle(S_HOLE41_R)
    extrude(amount=HOLE_41_DEPTH, mode=Mode.SUBTRACT)

    # S_hole42 → Hole_42 (cut)
    with BuildSketch(Plane(origin=(-61.1, 0, 0), x_dir=(0, 0, -1), z_dir=(1, 0, 0))):
        with Locations((-10.25, 8.3)):
            Circle(S_HOLE42_R)
    extrude(amount=HOLE_42_DEPTH, mode=Mode.SUBTRACT)

    # S_hole43 → Hole_43 (cut)
    with BuildSketch(Plane(origin=(-61.1, 0, 0), x_dir=(0, 0, -1), z_dir=(1, 0, 0))):
        with Locations((10.25, 32.75)):
            Circle(S_HOLE43_R)
    extrude(amount=HOLE_43_DEPTH, mode=Mode.SUBTRACT)

    # S_hole44 → Hole_44 (cut)
    with BuildSketch(Plane(origin=(-61.1, 0, 0), x_dir=(0, 0, -1), z_dir=(1, 0, 0))):
        with Locations((10.25, 32.75)):
            Circle(S_HOLE44_R)
    extrude(amount=HOLE_44_DEPTH, mode=Mode.SUBTRACT)

    # S_hole45 → Hole_45 (cut)
    with BuildSketch(Plane(origin=(-61.1, 0, 0), x_dir=(0, 0, -1), z_dir=(1, 0, 0))):
        with Locations((-10.25, 32.75)):
            Circle(S_HOLE45_R)
    extrude(amount=HOLE_45_DEPTH, mode=Mode.SUBTRACT)

    # S_hole46 → Hole_46 (cut)
    with BuildSketch(Plane(origin=(-61.1, 0, 0), x_dir=(0, 0, -1), z_dir=(1, 0, 0))):
        with Locations((-10.25, 32.75)):
            Circle(S_HOLE46_R)
    extrude(amount=HOLE_46_DEPTH, mode=Mode.SUBTRACT)

    # S_hole47 → Hole_47 (cut)
    with BuildSketch(Plane(origin=(-25, 0, 0), x_dir=(0, 0, -1), z_dir=(1, 0, 0))):
        with Locations(Location((0, 0, 0), (0, 0, 180))):
            Circle(S_HOLE47_R)
    extrude(amount=HOLE_47_DEPTH, mode=Mode.SUBTRACT)

    # S_cut48 → Pocket_48 (cut)
    with BuildSketch(Plane.XY.offset(-7.5)):
        with Locations((-23.975, 23.4)):
            Rectangle(S_CUT48_W, S_CUT48_H)
    extrude(amount=POCKET_48_DEPTH, mode=Mode.SUBTRACT)

    # S_pcut49 → Cut_49 (cut)
    with BuildSketch(Plane(origin=(-61.1, 0, 0), x_dir=(0, 0, -1), z_dir=(1, 0, 0))):
        Polygon((16, 38.8), (16, 28.6), (5.8, 38.8), align=None)
    extrude(amount=CUT_49_DEPTH, mode=Mode.SUBTRACT)


solid = part_1.part
